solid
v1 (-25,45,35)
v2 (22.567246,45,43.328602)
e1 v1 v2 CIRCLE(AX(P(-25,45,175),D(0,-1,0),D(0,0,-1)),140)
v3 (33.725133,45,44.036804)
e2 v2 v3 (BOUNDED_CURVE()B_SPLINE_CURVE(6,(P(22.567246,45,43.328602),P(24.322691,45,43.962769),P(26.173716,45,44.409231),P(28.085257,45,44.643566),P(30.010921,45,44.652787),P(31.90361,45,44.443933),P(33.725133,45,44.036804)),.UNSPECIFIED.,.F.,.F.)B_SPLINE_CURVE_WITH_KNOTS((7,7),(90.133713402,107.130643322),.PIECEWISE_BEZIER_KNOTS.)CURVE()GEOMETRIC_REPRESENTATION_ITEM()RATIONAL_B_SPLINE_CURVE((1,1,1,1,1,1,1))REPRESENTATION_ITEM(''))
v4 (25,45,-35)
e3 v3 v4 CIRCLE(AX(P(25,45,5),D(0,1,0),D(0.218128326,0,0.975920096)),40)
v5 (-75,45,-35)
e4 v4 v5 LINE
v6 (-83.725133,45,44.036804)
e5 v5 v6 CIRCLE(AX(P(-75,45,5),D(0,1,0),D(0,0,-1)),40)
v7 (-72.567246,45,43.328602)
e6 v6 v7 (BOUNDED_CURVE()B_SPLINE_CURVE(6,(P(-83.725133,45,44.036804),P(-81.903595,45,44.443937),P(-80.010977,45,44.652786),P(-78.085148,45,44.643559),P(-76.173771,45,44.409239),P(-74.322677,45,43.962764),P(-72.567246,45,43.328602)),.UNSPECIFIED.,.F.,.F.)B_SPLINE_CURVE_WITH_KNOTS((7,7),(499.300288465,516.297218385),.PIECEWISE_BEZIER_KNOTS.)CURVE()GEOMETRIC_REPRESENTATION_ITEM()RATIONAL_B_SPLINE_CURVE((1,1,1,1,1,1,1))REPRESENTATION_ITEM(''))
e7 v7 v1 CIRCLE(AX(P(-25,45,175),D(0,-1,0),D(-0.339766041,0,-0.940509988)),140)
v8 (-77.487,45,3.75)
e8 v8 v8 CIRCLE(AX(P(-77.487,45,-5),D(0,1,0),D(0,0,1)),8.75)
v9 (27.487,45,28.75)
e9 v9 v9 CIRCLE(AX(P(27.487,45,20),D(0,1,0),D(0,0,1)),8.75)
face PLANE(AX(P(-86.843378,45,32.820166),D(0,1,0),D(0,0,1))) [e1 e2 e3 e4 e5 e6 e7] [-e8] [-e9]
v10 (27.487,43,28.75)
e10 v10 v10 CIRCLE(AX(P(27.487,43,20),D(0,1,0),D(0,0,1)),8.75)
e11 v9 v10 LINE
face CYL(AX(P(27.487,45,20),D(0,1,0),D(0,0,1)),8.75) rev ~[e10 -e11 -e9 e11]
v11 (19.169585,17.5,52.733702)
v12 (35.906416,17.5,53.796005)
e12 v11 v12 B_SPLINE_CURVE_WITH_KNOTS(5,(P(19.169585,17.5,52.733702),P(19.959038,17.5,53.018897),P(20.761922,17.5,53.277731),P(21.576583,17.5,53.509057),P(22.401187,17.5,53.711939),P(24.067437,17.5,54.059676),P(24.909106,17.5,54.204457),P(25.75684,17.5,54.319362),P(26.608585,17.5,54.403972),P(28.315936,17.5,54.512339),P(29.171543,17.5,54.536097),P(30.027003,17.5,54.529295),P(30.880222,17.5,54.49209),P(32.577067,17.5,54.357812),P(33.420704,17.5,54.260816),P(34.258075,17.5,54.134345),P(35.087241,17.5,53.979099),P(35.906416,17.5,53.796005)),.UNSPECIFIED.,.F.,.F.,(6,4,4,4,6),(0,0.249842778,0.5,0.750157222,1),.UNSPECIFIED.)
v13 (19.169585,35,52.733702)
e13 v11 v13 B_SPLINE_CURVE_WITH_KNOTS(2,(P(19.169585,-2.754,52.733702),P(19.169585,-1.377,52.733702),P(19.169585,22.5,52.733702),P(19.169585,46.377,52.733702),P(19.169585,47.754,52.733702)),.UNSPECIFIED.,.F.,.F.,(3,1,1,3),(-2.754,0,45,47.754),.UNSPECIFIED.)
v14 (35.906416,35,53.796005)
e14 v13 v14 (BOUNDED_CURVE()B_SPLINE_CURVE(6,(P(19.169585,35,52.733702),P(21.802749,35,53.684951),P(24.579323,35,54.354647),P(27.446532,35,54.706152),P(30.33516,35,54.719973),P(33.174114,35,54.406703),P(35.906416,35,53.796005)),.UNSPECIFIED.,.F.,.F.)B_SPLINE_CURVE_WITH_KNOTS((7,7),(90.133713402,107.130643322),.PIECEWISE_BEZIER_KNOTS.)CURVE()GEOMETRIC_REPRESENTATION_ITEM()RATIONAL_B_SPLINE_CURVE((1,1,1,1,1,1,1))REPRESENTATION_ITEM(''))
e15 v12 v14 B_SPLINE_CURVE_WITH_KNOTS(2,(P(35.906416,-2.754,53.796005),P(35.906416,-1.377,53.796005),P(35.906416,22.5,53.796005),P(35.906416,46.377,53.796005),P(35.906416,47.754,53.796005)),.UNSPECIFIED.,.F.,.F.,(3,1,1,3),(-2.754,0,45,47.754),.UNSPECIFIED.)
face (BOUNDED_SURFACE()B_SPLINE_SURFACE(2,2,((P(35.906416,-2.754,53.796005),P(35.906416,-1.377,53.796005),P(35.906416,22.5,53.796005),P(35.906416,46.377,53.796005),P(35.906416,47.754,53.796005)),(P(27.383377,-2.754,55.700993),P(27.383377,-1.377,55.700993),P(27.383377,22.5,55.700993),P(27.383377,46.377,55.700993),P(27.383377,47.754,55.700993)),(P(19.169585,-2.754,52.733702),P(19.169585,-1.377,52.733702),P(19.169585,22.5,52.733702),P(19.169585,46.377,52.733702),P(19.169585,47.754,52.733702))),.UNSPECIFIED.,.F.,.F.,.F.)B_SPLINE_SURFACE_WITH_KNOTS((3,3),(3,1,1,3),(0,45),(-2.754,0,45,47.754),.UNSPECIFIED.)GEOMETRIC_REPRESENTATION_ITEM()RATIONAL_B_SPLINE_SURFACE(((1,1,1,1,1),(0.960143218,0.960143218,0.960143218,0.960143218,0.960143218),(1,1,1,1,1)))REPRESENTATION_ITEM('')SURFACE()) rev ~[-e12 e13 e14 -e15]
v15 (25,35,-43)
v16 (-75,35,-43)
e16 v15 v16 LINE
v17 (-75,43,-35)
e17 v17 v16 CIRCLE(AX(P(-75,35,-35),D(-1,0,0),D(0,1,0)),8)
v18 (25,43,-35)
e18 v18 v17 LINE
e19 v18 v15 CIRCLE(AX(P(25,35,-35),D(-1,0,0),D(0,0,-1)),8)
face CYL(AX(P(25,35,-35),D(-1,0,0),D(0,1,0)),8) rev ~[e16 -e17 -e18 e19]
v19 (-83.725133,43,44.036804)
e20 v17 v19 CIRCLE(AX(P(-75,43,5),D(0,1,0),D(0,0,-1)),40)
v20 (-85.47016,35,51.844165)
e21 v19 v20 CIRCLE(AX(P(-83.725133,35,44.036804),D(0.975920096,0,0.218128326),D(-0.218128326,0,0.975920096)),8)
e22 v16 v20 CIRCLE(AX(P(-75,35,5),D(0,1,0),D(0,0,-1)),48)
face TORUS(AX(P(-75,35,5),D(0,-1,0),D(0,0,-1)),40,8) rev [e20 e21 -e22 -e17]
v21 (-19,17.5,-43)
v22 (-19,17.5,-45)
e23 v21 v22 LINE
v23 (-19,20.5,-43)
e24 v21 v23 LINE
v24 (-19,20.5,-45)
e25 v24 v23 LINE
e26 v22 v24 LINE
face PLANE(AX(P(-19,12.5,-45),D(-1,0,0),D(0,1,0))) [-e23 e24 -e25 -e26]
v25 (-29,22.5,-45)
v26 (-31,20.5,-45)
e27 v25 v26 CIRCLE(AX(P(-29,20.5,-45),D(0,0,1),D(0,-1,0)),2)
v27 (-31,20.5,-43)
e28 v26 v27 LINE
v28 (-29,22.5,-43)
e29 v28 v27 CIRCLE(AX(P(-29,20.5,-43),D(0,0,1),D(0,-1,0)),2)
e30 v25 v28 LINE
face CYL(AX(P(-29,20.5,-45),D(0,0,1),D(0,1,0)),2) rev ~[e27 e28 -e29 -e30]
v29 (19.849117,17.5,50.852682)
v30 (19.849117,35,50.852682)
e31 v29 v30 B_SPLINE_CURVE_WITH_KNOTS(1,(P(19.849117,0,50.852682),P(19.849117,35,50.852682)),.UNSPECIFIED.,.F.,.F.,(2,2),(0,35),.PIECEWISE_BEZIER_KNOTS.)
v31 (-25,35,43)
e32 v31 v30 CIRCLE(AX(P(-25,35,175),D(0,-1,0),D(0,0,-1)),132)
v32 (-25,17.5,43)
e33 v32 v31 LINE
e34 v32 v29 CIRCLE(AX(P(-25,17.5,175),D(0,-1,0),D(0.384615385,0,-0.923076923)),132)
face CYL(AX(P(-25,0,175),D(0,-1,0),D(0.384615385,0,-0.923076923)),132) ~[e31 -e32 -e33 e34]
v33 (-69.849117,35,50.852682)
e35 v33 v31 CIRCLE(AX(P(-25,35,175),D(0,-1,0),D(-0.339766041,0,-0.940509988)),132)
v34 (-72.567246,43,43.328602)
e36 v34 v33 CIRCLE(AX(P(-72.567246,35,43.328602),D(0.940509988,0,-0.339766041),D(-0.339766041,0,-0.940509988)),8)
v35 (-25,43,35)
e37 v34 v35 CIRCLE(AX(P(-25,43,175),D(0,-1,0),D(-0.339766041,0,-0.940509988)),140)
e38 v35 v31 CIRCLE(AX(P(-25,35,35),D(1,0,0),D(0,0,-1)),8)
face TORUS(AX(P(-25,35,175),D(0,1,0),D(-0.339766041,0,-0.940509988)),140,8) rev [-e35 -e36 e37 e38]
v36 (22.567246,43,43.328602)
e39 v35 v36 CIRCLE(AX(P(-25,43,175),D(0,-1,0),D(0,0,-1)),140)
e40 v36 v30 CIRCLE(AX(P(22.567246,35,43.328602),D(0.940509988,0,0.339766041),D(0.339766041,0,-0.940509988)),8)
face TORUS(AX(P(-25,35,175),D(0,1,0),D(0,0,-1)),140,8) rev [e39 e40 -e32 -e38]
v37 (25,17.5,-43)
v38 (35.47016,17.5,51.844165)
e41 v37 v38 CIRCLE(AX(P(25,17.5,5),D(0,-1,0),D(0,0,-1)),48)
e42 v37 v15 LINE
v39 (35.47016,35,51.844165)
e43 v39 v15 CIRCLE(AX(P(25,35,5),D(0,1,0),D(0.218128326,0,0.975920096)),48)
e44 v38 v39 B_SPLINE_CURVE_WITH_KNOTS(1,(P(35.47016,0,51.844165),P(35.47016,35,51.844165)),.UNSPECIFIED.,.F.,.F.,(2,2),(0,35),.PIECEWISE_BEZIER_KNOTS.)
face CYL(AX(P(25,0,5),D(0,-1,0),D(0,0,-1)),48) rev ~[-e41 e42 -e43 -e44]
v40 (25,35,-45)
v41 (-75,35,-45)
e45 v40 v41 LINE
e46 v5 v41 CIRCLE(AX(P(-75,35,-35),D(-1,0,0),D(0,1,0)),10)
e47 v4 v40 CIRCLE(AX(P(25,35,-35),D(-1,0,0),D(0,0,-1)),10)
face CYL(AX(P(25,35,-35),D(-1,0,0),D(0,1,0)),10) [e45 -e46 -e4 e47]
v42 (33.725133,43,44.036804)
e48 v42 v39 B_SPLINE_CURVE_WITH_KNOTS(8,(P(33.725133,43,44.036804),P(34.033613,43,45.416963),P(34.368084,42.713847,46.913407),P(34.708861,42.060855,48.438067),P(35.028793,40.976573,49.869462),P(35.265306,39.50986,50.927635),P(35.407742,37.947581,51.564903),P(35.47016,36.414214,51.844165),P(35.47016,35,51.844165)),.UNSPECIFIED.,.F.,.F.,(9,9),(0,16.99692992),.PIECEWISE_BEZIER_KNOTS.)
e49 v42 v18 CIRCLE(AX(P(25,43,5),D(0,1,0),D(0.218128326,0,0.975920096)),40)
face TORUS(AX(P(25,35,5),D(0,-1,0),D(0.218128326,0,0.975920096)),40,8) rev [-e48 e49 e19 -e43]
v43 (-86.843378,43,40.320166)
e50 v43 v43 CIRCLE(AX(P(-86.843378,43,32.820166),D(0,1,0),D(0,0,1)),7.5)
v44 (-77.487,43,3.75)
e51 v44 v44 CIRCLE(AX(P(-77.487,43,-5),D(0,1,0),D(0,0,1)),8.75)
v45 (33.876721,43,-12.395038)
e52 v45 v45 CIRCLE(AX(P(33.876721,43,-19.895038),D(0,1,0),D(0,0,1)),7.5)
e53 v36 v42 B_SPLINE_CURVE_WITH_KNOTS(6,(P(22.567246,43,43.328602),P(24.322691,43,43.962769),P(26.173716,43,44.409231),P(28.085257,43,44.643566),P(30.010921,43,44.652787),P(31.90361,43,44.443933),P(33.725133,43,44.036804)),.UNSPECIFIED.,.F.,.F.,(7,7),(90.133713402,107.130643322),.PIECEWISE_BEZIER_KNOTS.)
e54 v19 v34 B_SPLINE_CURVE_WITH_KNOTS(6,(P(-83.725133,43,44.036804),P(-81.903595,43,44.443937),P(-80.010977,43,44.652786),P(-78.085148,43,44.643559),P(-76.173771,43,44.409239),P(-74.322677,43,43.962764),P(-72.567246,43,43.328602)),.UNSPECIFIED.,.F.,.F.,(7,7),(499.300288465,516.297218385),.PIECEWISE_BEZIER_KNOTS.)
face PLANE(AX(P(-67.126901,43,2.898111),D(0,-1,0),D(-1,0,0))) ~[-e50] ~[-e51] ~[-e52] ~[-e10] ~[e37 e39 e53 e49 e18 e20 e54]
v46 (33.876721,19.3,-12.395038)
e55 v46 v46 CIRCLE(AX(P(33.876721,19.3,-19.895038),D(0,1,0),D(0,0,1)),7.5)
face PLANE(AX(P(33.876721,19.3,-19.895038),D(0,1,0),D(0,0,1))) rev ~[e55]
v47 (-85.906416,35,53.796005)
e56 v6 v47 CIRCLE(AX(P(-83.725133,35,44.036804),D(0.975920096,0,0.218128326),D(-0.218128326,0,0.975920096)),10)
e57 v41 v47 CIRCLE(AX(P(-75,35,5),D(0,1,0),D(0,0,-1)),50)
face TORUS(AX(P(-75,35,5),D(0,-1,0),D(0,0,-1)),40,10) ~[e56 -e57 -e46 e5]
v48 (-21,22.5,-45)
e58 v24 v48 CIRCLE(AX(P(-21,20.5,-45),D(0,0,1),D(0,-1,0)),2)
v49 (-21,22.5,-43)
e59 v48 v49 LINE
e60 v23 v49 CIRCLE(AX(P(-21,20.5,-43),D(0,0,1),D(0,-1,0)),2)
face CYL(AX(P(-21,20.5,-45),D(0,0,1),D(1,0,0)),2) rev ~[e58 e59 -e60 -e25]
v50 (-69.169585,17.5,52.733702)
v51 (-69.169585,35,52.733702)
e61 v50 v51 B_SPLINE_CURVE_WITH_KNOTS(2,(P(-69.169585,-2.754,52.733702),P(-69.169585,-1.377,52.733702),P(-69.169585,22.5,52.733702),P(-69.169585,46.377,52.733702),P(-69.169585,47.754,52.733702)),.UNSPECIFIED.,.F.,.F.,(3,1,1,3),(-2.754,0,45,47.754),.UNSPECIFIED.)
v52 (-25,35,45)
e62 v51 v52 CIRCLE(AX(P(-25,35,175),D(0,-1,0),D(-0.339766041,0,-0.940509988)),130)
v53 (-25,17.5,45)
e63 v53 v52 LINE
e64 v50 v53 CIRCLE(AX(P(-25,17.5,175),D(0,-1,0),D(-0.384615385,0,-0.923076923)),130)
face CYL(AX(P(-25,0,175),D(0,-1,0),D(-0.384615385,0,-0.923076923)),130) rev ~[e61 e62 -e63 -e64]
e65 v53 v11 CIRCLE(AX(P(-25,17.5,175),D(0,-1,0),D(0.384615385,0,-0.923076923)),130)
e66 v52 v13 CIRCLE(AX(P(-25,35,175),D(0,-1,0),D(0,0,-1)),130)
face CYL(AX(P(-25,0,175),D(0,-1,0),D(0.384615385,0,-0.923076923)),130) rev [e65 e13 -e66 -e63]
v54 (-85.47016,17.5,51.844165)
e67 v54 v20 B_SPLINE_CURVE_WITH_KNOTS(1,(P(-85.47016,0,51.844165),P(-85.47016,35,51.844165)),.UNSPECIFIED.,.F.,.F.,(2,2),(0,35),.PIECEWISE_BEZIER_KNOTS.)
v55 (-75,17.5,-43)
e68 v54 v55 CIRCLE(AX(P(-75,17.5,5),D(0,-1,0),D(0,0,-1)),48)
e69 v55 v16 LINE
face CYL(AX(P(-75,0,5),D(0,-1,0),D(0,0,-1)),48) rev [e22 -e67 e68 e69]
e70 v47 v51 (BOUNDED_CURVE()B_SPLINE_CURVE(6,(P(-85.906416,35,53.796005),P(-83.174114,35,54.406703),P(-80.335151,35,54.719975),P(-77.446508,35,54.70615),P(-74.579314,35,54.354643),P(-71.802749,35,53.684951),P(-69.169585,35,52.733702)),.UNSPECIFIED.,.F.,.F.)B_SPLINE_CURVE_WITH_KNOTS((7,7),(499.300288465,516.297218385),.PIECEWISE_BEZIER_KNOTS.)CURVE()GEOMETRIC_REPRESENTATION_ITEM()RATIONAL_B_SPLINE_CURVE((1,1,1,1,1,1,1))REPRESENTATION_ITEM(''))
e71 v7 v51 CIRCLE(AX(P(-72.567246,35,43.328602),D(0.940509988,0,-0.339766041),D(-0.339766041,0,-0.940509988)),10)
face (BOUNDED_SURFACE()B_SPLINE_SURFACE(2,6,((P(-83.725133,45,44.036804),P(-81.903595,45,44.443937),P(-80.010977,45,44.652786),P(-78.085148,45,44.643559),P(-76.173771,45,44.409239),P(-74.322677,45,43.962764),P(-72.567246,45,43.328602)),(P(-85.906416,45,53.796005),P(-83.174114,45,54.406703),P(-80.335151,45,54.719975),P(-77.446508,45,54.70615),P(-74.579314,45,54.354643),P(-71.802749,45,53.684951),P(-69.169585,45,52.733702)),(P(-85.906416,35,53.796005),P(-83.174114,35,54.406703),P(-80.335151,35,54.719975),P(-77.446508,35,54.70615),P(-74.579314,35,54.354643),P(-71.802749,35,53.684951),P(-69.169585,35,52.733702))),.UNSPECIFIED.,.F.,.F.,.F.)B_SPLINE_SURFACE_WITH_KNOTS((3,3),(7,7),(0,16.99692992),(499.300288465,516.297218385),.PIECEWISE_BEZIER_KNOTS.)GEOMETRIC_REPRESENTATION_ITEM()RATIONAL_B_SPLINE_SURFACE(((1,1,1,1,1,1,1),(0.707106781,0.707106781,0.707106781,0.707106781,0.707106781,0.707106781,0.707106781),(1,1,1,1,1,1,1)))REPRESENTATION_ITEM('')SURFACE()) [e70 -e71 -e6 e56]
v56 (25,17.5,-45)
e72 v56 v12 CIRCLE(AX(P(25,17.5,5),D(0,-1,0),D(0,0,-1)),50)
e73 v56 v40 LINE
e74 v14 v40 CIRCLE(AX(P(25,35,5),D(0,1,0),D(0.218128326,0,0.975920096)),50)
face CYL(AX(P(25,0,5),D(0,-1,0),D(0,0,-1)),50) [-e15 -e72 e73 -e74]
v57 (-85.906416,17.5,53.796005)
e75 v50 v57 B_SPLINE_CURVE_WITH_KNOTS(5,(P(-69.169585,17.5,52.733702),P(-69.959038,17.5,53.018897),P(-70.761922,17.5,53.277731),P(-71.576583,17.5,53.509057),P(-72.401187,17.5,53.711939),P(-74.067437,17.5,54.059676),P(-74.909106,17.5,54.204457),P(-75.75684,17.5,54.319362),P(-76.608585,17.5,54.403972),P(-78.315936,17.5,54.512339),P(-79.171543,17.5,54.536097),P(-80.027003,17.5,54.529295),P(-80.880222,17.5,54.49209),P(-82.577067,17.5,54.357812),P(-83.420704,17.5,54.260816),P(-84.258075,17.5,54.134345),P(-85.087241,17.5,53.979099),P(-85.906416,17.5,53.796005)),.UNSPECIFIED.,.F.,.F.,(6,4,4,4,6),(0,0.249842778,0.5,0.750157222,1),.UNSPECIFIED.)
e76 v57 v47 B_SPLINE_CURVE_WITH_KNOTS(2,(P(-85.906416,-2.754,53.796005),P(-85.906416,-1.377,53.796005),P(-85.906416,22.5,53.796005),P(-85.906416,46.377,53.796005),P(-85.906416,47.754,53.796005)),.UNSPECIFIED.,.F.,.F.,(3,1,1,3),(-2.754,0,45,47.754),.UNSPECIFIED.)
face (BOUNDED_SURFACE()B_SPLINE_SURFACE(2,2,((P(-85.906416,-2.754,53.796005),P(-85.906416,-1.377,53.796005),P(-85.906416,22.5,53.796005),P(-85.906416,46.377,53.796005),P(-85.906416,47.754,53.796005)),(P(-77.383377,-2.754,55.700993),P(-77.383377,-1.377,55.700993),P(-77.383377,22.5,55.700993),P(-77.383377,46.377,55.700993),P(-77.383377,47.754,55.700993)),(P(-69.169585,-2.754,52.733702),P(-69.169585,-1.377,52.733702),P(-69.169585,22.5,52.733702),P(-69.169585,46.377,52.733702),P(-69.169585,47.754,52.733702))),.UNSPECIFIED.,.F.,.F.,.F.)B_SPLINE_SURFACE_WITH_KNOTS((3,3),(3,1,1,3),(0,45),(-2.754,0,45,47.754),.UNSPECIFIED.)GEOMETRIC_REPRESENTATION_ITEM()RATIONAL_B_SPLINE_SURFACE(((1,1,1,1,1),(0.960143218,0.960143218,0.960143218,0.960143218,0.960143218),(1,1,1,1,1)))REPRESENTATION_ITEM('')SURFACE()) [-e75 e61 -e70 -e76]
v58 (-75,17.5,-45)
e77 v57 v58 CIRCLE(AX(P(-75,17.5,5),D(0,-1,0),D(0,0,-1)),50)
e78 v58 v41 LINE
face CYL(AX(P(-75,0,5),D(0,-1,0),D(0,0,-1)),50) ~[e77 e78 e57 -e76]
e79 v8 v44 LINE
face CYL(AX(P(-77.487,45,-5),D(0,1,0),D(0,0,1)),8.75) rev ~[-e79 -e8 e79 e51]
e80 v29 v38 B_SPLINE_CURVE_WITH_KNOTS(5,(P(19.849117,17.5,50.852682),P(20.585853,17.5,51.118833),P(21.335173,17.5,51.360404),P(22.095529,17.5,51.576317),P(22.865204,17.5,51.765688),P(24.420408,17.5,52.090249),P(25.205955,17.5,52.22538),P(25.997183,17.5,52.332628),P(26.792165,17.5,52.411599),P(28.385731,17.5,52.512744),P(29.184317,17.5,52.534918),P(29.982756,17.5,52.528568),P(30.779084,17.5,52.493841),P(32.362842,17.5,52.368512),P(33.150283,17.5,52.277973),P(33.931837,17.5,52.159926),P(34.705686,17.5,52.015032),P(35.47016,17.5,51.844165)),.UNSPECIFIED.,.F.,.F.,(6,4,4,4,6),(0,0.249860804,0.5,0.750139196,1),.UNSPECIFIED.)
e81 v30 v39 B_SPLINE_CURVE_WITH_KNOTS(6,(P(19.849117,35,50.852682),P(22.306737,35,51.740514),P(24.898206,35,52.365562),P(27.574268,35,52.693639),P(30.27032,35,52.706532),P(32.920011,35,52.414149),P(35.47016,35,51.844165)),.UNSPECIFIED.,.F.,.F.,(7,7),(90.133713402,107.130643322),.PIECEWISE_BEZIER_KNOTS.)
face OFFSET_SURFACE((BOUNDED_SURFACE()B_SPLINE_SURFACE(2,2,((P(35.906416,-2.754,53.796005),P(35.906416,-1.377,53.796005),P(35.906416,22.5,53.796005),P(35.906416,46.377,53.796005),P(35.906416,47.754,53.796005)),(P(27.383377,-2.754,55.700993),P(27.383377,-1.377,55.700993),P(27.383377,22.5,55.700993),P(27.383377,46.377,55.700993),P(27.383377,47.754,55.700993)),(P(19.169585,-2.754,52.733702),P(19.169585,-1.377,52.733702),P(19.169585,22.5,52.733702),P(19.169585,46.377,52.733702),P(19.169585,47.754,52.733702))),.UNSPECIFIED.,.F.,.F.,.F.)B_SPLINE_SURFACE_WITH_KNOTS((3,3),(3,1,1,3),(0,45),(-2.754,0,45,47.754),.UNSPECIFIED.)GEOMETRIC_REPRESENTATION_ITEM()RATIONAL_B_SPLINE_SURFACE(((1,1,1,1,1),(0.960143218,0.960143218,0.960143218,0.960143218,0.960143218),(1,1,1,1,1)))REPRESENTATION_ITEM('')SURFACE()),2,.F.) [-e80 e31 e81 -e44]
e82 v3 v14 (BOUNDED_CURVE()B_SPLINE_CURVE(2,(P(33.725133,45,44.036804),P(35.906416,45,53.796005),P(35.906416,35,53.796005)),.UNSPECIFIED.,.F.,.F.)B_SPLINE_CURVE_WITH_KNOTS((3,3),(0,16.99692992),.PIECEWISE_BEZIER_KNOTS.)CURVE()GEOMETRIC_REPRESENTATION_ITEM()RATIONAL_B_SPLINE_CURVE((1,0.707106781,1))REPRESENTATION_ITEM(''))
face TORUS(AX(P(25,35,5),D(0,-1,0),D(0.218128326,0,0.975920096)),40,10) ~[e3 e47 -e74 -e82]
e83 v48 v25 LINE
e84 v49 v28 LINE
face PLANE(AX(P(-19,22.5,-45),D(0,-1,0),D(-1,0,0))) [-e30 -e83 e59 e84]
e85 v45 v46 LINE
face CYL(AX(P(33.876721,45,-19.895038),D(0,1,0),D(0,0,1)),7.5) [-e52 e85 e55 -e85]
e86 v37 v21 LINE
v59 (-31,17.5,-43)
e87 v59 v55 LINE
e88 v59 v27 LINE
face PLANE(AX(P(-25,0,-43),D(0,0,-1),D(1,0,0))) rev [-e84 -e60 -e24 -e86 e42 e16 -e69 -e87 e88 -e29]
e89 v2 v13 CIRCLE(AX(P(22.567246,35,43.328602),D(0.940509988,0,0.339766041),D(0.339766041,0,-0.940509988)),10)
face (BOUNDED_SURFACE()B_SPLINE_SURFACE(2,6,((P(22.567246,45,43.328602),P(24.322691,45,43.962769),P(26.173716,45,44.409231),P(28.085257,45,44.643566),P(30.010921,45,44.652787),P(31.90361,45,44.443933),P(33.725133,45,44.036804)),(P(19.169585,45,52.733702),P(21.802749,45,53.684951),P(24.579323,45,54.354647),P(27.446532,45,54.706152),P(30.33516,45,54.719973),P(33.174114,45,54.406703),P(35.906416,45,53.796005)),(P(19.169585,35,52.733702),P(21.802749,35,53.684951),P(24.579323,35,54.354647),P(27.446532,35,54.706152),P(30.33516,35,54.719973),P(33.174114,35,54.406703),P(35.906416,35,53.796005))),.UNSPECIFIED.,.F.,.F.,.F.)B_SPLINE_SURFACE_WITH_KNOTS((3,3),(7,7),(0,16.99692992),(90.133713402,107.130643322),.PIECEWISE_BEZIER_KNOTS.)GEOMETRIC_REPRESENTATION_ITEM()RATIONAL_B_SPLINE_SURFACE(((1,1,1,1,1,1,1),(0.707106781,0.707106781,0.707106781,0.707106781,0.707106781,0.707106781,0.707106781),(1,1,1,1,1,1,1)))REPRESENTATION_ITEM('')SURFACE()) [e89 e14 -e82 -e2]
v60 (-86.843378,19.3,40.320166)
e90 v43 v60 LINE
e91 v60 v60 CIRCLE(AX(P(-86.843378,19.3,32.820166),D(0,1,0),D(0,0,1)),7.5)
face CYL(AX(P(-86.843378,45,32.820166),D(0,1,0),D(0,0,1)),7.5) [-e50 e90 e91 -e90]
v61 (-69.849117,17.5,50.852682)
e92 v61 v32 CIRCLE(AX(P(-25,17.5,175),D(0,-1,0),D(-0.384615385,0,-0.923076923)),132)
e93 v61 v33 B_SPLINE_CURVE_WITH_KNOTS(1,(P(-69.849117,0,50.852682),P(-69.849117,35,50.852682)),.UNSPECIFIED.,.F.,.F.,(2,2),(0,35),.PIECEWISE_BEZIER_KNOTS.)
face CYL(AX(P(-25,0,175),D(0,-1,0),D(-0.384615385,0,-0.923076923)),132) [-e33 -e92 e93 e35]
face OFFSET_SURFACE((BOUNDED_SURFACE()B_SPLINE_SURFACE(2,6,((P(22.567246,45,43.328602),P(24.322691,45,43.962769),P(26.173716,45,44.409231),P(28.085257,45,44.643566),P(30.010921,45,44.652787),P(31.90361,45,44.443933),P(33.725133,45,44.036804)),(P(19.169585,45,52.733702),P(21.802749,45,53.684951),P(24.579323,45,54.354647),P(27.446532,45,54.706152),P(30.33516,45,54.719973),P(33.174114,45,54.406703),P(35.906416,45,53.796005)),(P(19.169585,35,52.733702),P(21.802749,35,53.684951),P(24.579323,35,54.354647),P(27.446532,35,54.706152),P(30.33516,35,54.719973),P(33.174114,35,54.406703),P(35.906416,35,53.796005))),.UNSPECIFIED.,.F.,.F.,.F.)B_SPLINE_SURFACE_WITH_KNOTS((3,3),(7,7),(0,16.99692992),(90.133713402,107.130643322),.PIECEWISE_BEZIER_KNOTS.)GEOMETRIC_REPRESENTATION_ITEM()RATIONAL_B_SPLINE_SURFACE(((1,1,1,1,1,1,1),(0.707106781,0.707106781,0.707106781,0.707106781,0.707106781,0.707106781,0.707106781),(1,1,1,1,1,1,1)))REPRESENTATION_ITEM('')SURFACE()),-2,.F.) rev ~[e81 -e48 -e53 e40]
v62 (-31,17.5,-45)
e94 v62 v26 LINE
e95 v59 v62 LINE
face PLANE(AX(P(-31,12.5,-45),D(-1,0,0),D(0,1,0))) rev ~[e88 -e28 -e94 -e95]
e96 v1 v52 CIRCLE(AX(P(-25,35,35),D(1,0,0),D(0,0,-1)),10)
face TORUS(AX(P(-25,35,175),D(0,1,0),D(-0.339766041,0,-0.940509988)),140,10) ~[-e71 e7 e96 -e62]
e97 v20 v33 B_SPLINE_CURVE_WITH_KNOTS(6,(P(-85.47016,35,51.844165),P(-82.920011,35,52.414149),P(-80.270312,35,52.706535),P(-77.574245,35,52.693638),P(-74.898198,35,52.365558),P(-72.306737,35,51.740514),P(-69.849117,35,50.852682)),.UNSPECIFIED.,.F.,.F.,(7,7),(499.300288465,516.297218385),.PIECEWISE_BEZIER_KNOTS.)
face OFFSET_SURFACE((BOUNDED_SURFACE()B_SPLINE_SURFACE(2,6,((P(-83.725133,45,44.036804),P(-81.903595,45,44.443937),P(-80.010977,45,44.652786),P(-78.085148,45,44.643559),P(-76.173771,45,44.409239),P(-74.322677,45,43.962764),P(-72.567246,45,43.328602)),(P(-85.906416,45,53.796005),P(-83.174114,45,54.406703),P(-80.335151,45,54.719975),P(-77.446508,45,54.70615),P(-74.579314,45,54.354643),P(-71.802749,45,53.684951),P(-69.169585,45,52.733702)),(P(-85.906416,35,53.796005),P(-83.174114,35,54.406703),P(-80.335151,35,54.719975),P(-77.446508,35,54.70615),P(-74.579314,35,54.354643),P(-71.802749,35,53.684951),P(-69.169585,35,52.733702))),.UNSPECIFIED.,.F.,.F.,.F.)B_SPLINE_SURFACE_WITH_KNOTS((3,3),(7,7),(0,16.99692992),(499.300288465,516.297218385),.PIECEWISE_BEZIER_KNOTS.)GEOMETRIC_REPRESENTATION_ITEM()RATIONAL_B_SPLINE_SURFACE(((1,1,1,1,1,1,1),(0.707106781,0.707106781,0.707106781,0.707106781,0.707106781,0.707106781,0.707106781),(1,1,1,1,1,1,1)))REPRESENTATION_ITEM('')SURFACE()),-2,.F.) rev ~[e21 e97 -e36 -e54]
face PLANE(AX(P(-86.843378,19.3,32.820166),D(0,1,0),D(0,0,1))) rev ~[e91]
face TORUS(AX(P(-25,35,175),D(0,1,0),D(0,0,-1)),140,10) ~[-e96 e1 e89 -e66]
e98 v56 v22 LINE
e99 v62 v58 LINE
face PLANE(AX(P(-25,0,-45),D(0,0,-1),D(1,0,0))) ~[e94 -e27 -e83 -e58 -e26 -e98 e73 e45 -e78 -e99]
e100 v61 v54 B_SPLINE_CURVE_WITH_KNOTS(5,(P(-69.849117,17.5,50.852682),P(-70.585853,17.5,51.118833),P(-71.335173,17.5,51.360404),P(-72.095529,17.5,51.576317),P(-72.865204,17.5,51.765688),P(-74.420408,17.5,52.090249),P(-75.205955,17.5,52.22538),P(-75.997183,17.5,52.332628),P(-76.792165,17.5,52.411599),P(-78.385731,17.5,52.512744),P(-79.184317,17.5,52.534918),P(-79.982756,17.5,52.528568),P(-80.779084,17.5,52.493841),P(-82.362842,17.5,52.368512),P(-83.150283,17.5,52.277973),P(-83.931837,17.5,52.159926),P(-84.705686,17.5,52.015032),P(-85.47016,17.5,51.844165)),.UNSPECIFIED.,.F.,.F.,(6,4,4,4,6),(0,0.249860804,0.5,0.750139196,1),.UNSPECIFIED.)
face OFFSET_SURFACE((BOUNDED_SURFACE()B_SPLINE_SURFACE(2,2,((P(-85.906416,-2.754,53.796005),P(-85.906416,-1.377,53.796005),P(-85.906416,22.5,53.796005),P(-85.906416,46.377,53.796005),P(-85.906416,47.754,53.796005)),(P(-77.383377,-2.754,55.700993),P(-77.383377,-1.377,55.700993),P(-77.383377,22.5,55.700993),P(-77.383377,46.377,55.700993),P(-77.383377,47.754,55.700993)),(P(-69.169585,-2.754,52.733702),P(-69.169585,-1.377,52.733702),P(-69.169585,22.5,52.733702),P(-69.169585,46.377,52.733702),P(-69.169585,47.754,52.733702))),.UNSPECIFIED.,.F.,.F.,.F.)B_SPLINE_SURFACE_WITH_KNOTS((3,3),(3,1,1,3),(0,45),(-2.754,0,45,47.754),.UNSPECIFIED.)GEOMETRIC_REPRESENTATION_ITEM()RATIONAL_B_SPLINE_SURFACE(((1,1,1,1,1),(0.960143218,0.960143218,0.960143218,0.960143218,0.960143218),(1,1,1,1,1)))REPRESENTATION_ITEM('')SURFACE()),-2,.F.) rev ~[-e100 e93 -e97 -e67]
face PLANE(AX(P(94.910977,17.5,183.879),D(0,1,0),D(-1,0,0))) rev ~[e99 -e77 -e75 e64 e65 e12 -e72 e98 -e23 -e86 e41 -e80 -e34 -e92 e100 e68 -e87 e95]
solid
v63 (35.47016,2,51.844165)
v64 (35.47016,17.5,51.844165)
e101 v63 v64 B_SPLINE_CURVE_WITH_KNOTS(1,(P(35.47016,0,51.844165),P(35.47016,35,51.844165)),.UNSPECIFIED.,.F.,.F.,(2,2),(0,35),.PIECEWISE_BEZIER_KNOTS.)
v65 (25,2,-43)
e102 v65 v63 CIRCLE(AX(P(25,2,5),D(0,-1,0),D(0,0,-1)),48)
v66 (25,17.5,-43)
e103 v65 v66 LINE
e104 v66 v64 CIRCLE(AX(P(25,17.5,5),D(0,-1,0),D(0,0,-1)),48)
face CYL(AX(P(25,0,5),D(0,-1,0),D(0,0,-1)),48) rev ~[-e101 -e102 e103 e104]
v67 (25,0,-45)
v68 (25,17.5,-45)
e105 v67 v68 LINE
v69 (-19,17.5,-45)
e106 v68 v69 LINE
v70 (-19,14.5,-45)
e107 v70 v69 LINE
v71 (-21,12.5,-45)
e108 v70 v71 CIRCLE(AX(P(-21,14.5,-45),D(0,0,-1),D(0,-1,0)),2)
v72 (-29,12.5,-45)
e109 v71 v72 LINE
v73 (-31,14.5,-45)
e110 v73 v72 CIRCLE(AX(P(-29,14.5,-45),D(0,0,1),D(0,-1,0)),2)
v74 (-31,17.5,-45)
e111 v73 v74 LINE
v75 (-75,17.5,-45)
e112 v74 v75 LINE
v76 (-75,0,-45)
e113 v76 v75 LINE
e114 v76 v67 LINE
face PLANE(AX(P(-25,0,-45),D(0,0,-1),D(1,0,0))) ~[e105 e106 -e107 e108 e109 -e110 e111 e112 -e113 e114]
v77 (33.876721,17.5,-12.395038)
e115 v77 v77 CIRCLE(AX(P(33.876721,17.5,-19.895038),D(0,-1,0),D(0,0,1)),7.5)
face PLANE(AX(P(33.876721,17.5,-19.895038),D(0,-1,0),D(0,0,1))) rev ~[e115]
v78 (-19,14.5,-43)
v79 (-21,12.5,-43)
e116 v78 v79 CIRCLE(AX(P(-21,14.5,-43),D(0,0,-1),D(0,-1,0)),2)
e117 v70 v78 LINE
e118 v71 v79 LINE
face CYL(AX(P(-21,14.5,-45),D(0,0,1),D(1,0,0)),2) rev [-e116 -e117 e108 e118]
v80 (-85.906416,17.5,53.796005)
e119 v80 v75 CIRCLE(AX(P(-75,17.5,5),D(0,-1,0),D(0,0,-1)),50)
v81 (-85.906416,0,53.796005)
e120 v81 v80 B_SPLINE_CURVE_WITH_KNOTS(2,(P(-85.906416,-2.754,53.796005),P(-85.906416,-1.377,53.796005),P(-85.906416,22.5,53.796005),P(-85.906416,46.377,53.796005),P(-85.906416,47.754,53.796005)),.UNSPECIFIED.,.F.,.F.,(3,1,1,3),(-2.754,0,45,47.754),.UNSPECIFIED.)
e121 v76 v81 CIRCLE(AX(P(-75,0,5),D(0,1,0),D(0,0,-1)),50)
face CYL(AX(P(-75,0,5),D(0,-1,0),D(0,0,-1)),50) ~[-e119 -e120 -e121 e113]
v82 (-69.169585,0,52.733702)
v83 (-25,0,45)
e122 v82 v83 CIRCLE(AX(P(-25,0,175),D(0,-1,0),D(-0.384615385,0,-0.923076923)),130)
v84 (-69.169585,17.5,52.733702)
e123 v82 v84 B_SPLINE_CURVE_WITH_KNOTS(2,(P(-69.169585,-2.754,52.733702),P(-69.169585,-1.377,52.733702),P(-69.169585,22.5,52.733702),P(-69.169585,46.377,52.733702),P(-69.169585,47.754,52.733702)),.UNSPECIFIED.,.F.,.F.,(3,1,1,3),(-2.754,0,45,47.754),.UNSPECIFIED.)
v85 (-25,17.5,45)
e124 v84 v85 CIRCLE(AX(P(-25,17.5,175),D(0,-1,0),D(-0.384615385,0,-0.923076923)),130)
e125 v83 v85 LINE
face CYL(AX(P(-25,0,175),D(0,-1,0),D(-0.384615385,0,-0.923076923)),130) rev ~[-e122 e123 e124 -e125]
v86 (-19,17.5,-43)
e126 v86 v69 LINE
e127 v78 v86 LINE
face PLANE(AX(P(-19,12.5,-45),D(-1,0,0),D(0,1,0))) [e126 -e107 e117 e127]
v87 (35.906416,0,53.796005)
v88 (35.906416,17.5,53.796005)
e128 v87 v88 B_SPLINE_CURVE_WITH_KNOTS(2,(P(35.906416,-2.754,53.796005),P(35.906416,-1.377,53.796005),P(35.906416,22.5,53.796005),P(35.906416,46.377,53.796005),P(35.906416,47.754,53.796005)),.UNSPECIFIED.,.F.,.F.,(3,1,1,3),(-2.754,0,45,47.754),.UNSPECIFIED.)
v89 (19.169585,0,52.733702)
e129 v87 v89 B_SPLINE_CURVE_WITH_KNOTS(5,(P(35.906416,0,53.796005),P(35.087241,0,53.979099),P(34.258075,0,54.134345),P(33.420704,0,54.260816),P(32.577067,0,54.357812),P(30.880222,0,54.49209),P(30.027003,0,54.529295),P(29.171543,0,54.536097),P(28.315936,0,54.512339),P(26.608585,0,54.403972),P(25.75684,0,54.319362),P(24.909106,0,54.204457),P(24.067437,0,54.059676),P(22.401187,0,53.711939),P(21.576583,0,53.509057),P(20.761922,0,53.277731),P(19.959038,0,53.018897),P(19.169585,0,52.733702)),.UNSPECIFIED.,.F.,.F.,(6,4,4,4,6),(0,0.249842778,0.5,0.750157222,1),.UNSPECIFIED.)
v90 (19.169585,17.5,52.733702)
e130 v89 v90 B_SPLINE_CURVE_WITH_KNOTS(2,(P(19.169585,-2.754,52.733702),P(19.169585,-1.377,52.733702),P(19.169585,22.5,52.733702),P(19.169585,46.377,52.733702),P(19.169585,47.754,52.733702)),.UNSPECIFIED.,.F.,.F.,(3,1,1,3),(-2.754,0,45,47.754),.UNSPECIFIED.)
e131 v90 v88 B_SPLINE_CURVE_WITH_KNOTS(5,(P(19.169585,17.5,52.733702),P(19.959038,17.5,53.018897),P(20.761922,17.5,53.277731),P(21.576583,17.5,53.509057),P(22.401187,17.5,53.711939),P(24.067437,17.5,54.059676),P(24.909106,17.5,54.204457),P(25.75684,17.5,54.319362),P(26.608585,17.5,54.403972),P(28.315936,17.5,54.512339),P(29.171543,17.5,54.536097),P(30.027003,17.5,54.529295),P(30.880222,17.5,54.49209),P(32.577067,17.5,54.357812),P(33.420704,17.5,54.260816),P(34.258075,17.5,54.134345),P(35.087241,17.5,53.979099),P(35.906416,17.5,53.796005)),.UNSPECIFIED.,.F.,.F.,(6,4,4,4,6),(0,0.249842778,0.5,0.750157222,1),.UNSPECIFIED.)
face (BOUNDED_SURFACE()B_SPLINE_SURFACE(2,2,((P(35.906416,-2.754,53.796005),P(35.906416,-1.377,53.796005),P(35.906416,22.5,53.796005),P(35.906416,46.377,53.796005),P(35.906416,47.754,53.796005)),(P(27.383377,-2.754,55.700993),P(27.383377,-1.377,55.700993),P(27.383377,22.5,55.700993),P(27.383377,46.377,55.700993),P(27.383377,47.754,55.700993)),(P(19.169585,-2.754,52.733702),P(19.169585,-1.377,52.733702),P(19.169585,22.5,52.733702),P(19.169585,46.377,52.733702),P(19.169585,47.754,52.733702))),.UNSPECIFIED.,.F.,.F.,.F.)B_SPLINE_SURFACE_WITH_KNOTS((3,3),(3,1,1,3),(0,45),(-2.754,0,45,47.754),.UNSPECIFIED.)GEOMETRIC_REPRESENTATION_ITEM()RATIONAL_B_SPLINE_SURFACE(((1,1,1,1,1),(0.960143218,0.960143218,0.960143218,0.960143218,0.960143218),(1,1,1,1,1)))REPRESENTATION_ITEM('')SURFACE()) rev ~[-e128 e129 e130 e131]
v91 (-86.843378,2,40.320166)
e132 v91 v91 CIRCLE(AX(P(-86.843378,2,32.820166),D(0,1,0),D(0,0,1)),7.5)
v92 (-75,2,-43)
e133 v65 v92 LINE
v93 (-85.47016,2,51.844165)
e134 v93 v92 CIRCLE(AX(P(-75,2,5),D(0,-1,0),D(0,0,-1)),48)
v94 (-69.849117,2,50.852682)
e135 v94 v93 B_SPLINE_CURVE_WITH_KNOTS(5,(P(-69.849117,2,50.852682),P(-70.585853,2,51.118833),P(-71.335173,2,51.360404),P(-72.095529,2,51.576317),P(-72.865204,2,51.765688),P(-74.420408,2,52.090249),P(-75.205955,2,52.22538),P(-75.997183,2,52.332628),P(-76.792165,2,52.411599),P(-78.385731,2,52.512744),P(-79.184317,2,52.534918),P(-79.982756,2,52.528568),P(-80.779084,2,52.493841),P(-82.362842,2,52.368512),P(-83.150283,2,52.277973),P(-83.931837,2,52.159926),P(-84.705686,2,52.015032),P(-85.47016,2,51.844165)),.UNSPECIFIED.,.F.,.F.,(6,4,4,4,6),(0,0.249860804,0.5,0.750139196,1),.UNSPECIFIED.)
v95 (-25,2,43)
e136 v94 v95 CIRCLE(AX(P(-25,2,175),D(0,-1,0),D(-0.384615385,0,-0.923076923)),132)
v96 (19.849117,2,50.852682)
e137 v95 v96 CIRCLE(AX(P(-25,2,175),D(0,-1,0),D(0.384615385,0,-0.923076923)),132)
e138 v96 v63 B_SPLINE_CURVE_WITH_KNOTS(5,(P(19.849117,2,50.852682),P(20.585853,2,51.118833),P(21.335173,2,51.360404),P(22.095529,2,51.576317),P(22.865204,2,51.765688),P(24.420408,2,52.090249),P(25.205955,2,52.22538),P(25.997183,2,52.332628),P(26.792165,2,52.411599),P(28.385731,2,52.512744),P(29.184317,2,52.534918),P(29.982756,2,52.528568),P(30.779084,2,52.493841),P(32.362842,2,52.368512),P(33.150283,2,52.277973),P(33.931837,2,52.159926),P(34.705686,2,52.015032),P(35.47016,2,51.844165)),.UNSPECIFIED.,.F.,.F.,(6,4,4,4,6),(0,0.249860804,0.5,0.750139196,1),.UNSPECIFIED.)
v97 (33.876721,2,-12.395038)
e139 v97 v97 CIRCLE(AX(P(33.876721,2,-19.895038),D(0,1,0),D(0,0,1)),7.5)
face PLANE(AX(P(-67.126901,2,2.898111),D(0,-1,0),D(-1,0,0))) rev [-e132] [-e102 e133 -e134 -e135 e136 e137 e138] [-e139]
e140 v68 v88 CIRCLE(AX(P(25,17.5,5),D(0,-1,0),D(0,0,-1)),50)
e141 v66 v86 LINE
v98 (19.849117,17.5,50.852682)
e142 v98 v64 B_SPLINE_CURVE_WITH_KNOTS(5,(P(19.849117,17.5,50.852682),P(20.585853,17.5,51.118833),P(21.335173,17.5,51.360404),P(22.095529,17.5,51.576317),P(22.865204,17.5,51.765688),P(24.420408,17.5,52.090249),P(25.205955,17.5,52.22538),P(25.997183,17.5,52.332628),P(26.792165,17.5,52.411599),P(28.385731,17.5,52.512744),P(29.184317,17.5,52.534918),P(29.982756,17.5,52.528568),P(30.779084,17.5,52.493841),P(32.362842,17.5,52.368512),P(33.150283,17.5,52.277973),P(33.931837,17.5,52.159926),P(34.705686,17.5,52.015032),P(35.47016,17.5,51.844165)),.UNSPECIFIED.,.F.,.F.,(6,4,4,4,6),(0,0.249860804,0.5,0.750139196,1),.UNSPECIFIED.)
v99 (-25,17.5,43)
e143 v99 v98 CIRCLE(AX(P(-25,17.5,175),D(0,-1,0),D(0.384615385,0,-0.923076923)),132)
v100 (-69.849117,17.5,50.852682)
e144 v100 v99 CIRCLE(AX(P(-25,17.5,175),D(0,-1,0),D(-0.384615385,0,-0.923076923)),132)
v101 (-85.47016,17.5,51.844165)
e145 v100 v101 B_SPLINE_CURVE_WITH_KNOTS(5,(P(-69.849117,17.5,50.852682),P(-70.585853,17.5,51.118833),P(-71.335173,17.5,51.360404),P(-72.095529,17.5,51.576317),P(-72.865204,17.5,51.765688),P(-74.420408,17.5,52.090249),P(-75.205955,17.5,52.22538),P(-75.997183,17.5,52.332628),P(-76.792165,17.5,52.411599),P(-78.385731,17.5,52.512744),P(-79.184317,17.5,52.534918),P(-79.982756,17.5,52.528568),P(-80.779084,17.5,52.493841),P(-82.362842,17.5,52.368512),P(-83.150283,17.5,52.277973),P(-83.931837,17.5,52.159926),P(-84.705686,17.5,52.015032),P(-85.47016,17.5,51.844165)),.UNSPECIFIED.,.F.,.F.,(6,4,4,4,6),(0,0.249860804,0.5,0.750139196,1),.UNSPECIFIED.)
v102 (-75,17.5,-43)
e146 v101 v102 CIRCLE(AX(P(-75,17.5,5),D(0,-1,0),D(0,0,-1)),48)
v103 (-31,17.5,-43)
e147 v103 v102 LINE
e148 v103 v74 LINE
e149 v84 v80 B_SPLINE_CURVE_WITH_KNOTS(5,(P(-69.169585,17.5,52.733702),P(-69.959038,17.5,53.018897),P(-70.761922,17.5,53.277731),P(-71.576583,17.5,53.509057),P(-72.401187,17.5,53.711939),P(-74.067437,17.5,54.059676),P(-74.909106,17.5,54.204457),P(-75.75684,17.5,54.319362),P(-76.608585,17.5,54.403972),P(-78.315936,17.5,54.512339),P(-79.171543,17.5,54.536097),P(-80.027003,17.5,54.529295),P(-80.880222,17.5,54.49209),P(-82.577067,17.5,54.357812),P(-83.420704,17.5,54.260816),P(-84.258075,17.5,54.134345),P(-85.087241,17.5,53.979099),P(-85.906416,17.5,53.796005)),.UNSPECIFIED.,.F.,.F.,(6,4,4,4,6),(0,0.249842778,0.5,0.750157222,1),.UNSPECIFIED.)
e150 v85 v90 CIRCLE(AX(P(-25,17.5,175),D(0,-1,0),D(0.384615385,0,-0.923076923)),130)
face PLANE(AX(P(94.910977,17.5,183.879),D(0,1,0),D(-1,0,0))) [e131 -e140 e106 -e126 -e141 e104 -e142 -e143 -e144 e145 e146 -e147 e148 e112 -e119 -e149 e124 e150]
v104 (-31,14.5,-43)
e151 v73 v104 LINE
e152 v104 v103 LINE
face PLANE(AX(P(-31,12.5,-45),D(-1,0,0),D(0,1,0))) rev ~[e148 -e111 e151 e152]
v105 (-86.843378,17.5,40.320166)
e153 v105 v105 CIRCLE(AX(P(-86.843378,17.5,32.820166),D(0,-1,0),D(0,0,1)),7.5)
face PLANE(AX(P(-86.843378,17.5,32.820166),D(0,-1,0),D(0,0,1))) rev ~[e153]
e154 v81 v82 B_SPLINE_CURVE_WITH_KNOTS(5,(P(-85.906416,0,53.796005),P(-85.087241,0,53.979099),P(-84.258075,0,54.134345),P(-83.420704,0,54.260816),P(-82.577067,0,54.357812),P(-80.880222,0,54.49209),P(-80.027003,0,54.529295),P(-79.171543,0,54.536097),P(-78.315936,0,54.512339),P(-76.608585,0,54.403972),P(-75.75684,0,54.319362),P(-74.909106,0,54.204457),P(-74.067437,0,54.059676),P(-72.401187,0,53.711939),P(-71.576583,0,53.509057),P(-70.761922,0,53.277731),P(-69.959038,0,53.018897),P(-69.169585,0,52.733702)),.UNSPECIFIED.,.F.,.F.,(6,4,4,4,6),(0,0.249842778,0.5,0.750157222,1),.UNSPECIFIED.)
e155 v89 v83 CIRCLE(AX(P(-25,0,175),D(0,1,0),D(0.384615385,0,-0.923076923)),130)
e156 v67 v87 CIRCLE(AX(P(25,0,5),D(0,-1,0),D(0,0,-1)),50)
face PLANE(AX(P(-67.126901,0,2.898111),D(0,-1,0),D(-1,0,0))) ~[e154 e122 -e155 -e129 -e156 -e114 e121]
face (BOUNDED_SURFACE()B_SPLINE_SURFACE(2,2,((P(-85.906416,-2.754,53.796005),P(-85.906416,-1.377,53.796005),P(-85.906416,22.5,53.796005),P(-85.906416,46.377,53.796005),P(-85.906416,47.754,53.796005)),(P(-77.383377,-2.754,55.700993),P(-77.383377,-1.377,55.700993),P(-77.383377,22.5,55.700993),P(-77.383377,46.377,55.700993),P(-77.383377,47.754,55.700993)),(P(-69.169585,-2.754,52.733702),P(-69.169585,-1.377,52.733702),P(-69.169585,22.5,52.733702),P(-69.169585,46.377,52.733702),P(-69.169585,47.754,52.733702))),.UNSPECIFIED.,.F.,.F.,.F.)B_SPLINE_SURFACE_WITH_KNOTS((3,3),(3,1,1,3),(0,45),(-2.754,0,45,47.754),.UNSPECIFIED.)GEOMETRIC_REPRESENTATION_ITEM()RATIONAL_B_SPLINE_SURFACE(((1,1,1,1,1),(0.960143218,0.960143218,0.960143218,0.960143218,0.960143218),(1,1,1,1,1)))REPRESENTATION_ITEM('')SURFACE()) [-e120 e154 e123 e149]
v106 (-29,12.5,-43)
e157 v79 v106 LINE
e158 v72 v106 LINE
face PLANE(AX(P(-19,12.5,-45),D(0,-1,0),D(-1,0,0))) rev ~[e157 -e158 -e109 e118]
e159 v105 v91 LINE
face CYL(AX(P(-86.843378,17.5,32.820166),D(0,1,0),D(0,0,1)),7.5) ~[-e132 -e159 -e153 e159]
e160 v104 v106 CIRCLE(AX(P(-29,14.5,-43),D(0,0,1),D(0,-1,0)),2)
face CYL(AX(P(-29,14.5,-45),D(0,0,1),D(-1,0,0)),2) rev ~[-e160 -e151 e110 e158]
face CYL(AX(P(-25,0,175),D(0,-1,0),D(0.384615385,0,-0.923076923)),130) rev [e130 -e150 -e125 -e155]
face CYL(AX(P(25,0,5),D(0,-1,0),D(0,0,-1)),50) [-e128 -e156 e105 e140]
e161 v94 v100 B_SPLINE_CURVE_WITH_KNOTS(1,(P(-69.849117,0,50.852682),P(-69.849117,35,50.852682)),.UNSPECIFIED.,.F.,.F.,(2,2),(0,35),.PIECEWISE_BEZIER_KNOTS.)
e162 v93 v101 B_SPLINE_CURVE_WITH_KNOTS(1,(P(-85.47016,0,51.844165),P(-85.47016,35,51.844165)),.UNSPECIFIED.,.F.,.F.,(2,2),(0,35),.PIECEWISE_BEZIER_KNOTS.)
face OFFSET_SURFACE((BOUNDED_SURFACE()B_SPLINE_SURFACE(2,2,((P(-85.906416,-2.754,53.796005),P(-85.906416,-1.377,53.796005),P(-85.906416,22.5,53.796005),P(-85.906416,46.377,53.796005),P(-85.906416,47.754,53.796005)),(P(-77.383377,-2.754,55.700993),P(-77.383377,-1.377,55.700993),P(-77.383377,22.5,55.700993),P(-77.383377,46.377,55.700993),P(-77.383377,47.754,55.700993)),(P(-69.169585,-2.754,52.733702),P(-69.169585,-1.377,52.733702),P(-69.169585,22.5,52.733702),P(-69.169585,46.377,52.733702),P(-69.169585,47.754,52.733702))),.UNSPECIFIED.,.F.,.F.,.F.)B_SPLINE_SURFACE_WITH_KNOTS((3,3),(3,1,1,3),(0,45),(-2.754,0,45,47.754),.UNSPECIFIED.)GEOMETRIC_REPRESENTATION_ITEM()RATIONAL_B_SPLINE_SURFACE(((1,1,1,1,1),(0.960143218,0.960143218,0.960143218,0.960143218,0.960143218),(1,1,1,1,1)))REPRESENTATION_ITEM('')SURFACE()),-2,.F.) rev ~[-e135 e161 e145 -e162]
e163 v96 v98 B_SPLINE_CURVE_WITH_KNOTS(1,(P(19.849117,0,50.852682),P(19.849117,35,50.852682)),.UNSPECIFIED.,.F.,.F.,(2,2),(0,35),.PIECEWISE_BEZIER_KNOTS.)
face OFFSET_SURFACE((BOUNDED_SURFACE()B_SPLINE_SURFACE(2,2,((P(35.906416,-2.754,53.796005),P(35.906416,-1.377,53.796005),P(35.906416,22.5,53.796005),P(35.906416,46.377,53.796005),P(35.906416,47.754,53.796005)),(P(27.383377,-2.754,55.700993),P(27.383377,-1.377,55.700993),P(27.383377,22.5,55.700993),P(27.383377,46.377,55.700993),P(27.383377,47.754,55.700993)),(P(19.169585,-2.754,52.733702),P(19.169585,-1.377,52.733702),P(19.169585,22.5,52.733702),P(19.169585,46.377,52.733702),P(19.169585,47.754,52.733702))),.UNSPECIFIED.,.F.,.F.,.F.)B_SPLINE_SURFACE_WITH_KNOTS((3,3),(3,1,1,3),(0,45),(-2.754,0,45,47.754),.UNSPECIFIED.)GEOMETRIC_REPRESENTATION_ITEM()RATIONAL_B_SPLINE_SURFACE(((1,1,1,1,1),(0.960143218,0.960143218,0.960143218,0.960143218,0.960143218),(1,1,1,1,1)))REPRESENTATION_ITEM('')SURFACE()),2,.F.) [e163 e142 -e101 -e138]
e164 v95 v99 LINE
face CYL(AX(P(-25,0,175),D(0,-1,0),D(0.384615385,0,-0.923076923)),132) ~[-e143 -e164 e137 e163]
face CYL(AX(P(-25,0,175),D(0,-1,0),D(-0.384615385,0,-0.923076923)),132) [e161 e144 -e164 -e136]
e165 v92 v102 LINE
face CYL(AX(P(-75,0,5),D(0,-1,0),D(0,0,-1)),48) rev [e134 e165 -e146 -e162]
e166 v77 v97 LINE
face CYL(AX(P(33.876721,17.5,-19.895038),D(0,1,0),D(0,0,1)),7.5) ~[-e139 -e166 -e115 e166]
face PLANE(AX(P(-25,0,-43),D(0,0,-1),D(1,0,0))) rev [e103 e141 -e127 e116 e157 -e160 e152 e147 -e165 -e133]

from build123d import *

# Parameters (mm, degrees)
BOSS_EXTRUDE1_DEPTH    = 45
FILLET2_R              = 30
FILLET4_R              = 10
SHELL1_T               = 2
CUT_EXTRUDE1_REACH     = 145.605
SKETCH10_R             = 8.75
SKETCH12_R             = 7.5
BOSS_EXTRUDE2_DEPTH    = 25.7
BOSS_EXTRUDE5_START    = -17.5
SKETCH29_R             = 7.5
BOSS_EXTRUDE5_DEPTH    = 17.5
CUT_EXTRUDE4_REACH     = 167.994
SKETCH13_W             = 12
SKETCH13_H             = 10
FILLET7_R              = 2
SPLIT1_SURFACE_1_BACK  = 228.879
SPLIT1_SURFACE_1_DEPTH = 457.758
SPLIT1_SURFACE_2_BACK  = 228.879
SPLIT1_SURFACE_2_DEPTH = 457.758


with BuildPart() as part:
    # Sketch7 → Boss-Extrude1 (new body)
    with BuildSketch(Plane(origin=(0, 0, 0), x_dir=(1, 0, 0), z_dir=(0, 1, 0))):
        with BuildLine():
            Line((-25, -45), (-25, 45))
            Line((-25, 45), (25, 45))
            ThreePointArc((25, 45), (75, -5), (25, -55))
            ThreePointArc((25, -55), (0.495097568, -47.52451216), (-25, -45))
        make_face()
    extrude(amount=BOSS_EXTRUDE1_DEPTH)

    # Fillet2
    fillet2_edges = [part.edges().sort_by_distance(p)[0] for p in [
        (25, 22.5, 55),
    ]]
    fillet(fillet2_edges, radius=FILLET2_R)

    # Mirror1: part across plane


with BuildPart() as part_1:
    add(part.part)
    add(part.part.mirror(Plane(origin=(-25, 45, 45), x_dir=(0, 0, 1), z_dir=(-1, 0, 0))))

    # Fillet4
    fillet4_edges = [part_1.edges().sort_by_distance(p)[0] for p in [
        (-25, 45, 45),
        (74.6980897, 45, -0.486335772),
        (-25, 45, -45),
        (27.462260721, 45, 54.458155387),
        (-124.6980897, 45, -0.486335772),
        (-77.462260721, 45, 54.458155387),
    ]]
    fillet(fillet4_edges, radius=FILLET4_R)

    # Shell1 (no face opened: a closed hollow body)
    add(offset(amount=-SHELL1_T, mode=Mode.PRIVATE), mode=Mode.SUBTRACT)

    # Sketch10 → Cut-Extrude1 (cut, up to next)
    with BuildSketch(Plane(origin=(0, 45, 0), x_dir=(1, 0, 0), z_dir=(0, 1, 0)), mode=Mode.PRIVATE) as cut_extrude1_sk1:
        with Locations(Location((-77.486999678, 5, 0), (0, 0, 270))):
            Circle(SKETCH10_R)
    cut_extrude1_tool1 = extrude(cut_extrude1_sk1.sketch, amount=-CUT_EXTRUDE1_REACH, mode=Mode.PRIVATE) & part_1.part
    # Sketch10 → Cut-Extrude1 (cut, up to next)
    with BuildSketch(Plane(origin=(0, 45, 0), x_dir=(1, 0, 0), z_dir=(0, 1, 0)), mode=Mode.PRIVATE) as cut_extrude1_sk2:
        with Locations(Location((27.486999678, -20, 0), (0, 0, 270))):
            Circle(SKETCH10_R)
    cut_extrude1_tool2 = extrude(cut_extrude1_sk2.sketch, amount=-CUT_EXTRUDE1_REACH, mode=Mode.PRIVATE) & part_1.part
    add(cut_extrude1_tool1.solids().sort_by_distance((-77.487, 45, -5))[0], mode=Mode.SUBTRACT)
    add(cut_extrude1_tool2.solids().sort_by_distance((27.487, 45, 20))[0], mode=Mode.SUBTRACT)

    # Sketch12 → Boss-Extrude2 (add)
    with BuildSketch(Plane(origin=(0, 45, 0), x_dir=(1, 0, 0), z_dir=(0, 1, 0))):
        with Locations(Location((-86.843377882, -32.820166375, 0), (0, 0, 270))):
            Circle(SKETCH12_R)
        with Locations(Location((33.876721378, 19.89503765, 0), (0, 0, 270))):
            Circle(SKETCH12_R)
    extrude(amount=-BOSS_EXTRUDE2_DEPTH)

    # Sketch29 → Boss-Extrude5 (add)
    with BuildSketch(Plane.XZ.offset(BOSS_EXTRUDE5_START)):
        with Locations(Location((-86.843377882, 32.820166375, 0), (0, 0, 90))):
            Circle(SKETCH29_R)
        with Locations(Location((33.876721378, -19.89503765, 0), (0, 0, 90))):
            Circle(SKETCH29_R)
    extrude(amount=BOSS_EXTRUDE5_DEPTH)

    # Sketch13 → Cut-Extrude4 (cut, up to next)
    with BuildSketch(Plane(origin=(0, 0, -45), x_dir=(-1, 0, 0), z_dir=(0, 0, -1)), mode=Mode.PRIVATE) as cut_extrude4_sk1:
        with Locations((25, 17.5)):
            Rectangle(SKETCH13_W, SKETCH13_H)
    cut_extrude4_tool1 = extrude(cut_extrude4_sk1.sketch, amount=-CUT_EXTRUDE4_REACH, mode=Mode.PRIVATE) & part_1.part
    add(cut_extrude4_tool1.solids().sort_by_distance((-25, 17.5, -45))[0], mode=Mode.SUBTRACT)

    # Fillet7
    fillet7_edges = [part_1.edges().sort_by_distance(p)[0] for p in [
        (-19, 22.5, -44),
        (-31, 22.5, -44),
        (-31, 12.5, -44),
        (-19, 12.5, -44),
    ]]
    fillet(fillet7_edges, radius=FILLET7_R)


with BuildPart() as body_2:
    # Split1: the piece behind the surface
    add(part_1.part)
    # Split1 surface: a surface, the sketch's curves swept straight by 457.758 mm
    with BuildLine(Plane(origin=(0, 0, -45), x_dir=(-1, 0, 0), z_dir=(0, 0, -1)).offset(-SPLIT1_SURFACE_1_BACK), mode=Mode.PRIVATE) as split1_surface_1_path:
        Line((-94.910977175, 17.5), (148.554340896, 17.5))
    split1_surface_1 = Shell.extrude(split1_surface_1_path.wire(), (0 * SPLIT1_SURFACE_1_DEPTH, 0 * SPLIT1_SURFACE_1_DEPTH, -1 * SPLIT1_SURFACE_1_DEPTH))
    split(bisect_by=split1_surface_1, keep=Keep.BOTTOM)


with BuildPart() as part_2:
    add(part_1.part)

    # Split1: split by a surface, the side it looks to stays
    # Split1 surface: a surface, the sketch's curves swept straight by 457.758 mm
    with BuildLine(Plane(origin=(0, 0, -45), x_dir=(-1, 0, 0), z_dir=(0, 0, -1)).offset(-SPLIT1_SURFACE_2_BACK), mode=Mode.PRIVATE) as split1_surface_2_path:
        Line((-94.910977175, 17.5), (148.554340896, 17.5))
    split1_surface_2 = Shell.extrude(split1_surface_2_path.wire(), (0 * SPLIT1_SURFACE_2_DEPTH, 0 * SPLIT1_SURFACE_2_DEPTH, -1 * SPLIT1_SURFACE_2_DEPTH))
    split(bisect_by=split1_surface_2, keep=Keep.TOP)


solid = Compound([body_2.part, part_2.part])
